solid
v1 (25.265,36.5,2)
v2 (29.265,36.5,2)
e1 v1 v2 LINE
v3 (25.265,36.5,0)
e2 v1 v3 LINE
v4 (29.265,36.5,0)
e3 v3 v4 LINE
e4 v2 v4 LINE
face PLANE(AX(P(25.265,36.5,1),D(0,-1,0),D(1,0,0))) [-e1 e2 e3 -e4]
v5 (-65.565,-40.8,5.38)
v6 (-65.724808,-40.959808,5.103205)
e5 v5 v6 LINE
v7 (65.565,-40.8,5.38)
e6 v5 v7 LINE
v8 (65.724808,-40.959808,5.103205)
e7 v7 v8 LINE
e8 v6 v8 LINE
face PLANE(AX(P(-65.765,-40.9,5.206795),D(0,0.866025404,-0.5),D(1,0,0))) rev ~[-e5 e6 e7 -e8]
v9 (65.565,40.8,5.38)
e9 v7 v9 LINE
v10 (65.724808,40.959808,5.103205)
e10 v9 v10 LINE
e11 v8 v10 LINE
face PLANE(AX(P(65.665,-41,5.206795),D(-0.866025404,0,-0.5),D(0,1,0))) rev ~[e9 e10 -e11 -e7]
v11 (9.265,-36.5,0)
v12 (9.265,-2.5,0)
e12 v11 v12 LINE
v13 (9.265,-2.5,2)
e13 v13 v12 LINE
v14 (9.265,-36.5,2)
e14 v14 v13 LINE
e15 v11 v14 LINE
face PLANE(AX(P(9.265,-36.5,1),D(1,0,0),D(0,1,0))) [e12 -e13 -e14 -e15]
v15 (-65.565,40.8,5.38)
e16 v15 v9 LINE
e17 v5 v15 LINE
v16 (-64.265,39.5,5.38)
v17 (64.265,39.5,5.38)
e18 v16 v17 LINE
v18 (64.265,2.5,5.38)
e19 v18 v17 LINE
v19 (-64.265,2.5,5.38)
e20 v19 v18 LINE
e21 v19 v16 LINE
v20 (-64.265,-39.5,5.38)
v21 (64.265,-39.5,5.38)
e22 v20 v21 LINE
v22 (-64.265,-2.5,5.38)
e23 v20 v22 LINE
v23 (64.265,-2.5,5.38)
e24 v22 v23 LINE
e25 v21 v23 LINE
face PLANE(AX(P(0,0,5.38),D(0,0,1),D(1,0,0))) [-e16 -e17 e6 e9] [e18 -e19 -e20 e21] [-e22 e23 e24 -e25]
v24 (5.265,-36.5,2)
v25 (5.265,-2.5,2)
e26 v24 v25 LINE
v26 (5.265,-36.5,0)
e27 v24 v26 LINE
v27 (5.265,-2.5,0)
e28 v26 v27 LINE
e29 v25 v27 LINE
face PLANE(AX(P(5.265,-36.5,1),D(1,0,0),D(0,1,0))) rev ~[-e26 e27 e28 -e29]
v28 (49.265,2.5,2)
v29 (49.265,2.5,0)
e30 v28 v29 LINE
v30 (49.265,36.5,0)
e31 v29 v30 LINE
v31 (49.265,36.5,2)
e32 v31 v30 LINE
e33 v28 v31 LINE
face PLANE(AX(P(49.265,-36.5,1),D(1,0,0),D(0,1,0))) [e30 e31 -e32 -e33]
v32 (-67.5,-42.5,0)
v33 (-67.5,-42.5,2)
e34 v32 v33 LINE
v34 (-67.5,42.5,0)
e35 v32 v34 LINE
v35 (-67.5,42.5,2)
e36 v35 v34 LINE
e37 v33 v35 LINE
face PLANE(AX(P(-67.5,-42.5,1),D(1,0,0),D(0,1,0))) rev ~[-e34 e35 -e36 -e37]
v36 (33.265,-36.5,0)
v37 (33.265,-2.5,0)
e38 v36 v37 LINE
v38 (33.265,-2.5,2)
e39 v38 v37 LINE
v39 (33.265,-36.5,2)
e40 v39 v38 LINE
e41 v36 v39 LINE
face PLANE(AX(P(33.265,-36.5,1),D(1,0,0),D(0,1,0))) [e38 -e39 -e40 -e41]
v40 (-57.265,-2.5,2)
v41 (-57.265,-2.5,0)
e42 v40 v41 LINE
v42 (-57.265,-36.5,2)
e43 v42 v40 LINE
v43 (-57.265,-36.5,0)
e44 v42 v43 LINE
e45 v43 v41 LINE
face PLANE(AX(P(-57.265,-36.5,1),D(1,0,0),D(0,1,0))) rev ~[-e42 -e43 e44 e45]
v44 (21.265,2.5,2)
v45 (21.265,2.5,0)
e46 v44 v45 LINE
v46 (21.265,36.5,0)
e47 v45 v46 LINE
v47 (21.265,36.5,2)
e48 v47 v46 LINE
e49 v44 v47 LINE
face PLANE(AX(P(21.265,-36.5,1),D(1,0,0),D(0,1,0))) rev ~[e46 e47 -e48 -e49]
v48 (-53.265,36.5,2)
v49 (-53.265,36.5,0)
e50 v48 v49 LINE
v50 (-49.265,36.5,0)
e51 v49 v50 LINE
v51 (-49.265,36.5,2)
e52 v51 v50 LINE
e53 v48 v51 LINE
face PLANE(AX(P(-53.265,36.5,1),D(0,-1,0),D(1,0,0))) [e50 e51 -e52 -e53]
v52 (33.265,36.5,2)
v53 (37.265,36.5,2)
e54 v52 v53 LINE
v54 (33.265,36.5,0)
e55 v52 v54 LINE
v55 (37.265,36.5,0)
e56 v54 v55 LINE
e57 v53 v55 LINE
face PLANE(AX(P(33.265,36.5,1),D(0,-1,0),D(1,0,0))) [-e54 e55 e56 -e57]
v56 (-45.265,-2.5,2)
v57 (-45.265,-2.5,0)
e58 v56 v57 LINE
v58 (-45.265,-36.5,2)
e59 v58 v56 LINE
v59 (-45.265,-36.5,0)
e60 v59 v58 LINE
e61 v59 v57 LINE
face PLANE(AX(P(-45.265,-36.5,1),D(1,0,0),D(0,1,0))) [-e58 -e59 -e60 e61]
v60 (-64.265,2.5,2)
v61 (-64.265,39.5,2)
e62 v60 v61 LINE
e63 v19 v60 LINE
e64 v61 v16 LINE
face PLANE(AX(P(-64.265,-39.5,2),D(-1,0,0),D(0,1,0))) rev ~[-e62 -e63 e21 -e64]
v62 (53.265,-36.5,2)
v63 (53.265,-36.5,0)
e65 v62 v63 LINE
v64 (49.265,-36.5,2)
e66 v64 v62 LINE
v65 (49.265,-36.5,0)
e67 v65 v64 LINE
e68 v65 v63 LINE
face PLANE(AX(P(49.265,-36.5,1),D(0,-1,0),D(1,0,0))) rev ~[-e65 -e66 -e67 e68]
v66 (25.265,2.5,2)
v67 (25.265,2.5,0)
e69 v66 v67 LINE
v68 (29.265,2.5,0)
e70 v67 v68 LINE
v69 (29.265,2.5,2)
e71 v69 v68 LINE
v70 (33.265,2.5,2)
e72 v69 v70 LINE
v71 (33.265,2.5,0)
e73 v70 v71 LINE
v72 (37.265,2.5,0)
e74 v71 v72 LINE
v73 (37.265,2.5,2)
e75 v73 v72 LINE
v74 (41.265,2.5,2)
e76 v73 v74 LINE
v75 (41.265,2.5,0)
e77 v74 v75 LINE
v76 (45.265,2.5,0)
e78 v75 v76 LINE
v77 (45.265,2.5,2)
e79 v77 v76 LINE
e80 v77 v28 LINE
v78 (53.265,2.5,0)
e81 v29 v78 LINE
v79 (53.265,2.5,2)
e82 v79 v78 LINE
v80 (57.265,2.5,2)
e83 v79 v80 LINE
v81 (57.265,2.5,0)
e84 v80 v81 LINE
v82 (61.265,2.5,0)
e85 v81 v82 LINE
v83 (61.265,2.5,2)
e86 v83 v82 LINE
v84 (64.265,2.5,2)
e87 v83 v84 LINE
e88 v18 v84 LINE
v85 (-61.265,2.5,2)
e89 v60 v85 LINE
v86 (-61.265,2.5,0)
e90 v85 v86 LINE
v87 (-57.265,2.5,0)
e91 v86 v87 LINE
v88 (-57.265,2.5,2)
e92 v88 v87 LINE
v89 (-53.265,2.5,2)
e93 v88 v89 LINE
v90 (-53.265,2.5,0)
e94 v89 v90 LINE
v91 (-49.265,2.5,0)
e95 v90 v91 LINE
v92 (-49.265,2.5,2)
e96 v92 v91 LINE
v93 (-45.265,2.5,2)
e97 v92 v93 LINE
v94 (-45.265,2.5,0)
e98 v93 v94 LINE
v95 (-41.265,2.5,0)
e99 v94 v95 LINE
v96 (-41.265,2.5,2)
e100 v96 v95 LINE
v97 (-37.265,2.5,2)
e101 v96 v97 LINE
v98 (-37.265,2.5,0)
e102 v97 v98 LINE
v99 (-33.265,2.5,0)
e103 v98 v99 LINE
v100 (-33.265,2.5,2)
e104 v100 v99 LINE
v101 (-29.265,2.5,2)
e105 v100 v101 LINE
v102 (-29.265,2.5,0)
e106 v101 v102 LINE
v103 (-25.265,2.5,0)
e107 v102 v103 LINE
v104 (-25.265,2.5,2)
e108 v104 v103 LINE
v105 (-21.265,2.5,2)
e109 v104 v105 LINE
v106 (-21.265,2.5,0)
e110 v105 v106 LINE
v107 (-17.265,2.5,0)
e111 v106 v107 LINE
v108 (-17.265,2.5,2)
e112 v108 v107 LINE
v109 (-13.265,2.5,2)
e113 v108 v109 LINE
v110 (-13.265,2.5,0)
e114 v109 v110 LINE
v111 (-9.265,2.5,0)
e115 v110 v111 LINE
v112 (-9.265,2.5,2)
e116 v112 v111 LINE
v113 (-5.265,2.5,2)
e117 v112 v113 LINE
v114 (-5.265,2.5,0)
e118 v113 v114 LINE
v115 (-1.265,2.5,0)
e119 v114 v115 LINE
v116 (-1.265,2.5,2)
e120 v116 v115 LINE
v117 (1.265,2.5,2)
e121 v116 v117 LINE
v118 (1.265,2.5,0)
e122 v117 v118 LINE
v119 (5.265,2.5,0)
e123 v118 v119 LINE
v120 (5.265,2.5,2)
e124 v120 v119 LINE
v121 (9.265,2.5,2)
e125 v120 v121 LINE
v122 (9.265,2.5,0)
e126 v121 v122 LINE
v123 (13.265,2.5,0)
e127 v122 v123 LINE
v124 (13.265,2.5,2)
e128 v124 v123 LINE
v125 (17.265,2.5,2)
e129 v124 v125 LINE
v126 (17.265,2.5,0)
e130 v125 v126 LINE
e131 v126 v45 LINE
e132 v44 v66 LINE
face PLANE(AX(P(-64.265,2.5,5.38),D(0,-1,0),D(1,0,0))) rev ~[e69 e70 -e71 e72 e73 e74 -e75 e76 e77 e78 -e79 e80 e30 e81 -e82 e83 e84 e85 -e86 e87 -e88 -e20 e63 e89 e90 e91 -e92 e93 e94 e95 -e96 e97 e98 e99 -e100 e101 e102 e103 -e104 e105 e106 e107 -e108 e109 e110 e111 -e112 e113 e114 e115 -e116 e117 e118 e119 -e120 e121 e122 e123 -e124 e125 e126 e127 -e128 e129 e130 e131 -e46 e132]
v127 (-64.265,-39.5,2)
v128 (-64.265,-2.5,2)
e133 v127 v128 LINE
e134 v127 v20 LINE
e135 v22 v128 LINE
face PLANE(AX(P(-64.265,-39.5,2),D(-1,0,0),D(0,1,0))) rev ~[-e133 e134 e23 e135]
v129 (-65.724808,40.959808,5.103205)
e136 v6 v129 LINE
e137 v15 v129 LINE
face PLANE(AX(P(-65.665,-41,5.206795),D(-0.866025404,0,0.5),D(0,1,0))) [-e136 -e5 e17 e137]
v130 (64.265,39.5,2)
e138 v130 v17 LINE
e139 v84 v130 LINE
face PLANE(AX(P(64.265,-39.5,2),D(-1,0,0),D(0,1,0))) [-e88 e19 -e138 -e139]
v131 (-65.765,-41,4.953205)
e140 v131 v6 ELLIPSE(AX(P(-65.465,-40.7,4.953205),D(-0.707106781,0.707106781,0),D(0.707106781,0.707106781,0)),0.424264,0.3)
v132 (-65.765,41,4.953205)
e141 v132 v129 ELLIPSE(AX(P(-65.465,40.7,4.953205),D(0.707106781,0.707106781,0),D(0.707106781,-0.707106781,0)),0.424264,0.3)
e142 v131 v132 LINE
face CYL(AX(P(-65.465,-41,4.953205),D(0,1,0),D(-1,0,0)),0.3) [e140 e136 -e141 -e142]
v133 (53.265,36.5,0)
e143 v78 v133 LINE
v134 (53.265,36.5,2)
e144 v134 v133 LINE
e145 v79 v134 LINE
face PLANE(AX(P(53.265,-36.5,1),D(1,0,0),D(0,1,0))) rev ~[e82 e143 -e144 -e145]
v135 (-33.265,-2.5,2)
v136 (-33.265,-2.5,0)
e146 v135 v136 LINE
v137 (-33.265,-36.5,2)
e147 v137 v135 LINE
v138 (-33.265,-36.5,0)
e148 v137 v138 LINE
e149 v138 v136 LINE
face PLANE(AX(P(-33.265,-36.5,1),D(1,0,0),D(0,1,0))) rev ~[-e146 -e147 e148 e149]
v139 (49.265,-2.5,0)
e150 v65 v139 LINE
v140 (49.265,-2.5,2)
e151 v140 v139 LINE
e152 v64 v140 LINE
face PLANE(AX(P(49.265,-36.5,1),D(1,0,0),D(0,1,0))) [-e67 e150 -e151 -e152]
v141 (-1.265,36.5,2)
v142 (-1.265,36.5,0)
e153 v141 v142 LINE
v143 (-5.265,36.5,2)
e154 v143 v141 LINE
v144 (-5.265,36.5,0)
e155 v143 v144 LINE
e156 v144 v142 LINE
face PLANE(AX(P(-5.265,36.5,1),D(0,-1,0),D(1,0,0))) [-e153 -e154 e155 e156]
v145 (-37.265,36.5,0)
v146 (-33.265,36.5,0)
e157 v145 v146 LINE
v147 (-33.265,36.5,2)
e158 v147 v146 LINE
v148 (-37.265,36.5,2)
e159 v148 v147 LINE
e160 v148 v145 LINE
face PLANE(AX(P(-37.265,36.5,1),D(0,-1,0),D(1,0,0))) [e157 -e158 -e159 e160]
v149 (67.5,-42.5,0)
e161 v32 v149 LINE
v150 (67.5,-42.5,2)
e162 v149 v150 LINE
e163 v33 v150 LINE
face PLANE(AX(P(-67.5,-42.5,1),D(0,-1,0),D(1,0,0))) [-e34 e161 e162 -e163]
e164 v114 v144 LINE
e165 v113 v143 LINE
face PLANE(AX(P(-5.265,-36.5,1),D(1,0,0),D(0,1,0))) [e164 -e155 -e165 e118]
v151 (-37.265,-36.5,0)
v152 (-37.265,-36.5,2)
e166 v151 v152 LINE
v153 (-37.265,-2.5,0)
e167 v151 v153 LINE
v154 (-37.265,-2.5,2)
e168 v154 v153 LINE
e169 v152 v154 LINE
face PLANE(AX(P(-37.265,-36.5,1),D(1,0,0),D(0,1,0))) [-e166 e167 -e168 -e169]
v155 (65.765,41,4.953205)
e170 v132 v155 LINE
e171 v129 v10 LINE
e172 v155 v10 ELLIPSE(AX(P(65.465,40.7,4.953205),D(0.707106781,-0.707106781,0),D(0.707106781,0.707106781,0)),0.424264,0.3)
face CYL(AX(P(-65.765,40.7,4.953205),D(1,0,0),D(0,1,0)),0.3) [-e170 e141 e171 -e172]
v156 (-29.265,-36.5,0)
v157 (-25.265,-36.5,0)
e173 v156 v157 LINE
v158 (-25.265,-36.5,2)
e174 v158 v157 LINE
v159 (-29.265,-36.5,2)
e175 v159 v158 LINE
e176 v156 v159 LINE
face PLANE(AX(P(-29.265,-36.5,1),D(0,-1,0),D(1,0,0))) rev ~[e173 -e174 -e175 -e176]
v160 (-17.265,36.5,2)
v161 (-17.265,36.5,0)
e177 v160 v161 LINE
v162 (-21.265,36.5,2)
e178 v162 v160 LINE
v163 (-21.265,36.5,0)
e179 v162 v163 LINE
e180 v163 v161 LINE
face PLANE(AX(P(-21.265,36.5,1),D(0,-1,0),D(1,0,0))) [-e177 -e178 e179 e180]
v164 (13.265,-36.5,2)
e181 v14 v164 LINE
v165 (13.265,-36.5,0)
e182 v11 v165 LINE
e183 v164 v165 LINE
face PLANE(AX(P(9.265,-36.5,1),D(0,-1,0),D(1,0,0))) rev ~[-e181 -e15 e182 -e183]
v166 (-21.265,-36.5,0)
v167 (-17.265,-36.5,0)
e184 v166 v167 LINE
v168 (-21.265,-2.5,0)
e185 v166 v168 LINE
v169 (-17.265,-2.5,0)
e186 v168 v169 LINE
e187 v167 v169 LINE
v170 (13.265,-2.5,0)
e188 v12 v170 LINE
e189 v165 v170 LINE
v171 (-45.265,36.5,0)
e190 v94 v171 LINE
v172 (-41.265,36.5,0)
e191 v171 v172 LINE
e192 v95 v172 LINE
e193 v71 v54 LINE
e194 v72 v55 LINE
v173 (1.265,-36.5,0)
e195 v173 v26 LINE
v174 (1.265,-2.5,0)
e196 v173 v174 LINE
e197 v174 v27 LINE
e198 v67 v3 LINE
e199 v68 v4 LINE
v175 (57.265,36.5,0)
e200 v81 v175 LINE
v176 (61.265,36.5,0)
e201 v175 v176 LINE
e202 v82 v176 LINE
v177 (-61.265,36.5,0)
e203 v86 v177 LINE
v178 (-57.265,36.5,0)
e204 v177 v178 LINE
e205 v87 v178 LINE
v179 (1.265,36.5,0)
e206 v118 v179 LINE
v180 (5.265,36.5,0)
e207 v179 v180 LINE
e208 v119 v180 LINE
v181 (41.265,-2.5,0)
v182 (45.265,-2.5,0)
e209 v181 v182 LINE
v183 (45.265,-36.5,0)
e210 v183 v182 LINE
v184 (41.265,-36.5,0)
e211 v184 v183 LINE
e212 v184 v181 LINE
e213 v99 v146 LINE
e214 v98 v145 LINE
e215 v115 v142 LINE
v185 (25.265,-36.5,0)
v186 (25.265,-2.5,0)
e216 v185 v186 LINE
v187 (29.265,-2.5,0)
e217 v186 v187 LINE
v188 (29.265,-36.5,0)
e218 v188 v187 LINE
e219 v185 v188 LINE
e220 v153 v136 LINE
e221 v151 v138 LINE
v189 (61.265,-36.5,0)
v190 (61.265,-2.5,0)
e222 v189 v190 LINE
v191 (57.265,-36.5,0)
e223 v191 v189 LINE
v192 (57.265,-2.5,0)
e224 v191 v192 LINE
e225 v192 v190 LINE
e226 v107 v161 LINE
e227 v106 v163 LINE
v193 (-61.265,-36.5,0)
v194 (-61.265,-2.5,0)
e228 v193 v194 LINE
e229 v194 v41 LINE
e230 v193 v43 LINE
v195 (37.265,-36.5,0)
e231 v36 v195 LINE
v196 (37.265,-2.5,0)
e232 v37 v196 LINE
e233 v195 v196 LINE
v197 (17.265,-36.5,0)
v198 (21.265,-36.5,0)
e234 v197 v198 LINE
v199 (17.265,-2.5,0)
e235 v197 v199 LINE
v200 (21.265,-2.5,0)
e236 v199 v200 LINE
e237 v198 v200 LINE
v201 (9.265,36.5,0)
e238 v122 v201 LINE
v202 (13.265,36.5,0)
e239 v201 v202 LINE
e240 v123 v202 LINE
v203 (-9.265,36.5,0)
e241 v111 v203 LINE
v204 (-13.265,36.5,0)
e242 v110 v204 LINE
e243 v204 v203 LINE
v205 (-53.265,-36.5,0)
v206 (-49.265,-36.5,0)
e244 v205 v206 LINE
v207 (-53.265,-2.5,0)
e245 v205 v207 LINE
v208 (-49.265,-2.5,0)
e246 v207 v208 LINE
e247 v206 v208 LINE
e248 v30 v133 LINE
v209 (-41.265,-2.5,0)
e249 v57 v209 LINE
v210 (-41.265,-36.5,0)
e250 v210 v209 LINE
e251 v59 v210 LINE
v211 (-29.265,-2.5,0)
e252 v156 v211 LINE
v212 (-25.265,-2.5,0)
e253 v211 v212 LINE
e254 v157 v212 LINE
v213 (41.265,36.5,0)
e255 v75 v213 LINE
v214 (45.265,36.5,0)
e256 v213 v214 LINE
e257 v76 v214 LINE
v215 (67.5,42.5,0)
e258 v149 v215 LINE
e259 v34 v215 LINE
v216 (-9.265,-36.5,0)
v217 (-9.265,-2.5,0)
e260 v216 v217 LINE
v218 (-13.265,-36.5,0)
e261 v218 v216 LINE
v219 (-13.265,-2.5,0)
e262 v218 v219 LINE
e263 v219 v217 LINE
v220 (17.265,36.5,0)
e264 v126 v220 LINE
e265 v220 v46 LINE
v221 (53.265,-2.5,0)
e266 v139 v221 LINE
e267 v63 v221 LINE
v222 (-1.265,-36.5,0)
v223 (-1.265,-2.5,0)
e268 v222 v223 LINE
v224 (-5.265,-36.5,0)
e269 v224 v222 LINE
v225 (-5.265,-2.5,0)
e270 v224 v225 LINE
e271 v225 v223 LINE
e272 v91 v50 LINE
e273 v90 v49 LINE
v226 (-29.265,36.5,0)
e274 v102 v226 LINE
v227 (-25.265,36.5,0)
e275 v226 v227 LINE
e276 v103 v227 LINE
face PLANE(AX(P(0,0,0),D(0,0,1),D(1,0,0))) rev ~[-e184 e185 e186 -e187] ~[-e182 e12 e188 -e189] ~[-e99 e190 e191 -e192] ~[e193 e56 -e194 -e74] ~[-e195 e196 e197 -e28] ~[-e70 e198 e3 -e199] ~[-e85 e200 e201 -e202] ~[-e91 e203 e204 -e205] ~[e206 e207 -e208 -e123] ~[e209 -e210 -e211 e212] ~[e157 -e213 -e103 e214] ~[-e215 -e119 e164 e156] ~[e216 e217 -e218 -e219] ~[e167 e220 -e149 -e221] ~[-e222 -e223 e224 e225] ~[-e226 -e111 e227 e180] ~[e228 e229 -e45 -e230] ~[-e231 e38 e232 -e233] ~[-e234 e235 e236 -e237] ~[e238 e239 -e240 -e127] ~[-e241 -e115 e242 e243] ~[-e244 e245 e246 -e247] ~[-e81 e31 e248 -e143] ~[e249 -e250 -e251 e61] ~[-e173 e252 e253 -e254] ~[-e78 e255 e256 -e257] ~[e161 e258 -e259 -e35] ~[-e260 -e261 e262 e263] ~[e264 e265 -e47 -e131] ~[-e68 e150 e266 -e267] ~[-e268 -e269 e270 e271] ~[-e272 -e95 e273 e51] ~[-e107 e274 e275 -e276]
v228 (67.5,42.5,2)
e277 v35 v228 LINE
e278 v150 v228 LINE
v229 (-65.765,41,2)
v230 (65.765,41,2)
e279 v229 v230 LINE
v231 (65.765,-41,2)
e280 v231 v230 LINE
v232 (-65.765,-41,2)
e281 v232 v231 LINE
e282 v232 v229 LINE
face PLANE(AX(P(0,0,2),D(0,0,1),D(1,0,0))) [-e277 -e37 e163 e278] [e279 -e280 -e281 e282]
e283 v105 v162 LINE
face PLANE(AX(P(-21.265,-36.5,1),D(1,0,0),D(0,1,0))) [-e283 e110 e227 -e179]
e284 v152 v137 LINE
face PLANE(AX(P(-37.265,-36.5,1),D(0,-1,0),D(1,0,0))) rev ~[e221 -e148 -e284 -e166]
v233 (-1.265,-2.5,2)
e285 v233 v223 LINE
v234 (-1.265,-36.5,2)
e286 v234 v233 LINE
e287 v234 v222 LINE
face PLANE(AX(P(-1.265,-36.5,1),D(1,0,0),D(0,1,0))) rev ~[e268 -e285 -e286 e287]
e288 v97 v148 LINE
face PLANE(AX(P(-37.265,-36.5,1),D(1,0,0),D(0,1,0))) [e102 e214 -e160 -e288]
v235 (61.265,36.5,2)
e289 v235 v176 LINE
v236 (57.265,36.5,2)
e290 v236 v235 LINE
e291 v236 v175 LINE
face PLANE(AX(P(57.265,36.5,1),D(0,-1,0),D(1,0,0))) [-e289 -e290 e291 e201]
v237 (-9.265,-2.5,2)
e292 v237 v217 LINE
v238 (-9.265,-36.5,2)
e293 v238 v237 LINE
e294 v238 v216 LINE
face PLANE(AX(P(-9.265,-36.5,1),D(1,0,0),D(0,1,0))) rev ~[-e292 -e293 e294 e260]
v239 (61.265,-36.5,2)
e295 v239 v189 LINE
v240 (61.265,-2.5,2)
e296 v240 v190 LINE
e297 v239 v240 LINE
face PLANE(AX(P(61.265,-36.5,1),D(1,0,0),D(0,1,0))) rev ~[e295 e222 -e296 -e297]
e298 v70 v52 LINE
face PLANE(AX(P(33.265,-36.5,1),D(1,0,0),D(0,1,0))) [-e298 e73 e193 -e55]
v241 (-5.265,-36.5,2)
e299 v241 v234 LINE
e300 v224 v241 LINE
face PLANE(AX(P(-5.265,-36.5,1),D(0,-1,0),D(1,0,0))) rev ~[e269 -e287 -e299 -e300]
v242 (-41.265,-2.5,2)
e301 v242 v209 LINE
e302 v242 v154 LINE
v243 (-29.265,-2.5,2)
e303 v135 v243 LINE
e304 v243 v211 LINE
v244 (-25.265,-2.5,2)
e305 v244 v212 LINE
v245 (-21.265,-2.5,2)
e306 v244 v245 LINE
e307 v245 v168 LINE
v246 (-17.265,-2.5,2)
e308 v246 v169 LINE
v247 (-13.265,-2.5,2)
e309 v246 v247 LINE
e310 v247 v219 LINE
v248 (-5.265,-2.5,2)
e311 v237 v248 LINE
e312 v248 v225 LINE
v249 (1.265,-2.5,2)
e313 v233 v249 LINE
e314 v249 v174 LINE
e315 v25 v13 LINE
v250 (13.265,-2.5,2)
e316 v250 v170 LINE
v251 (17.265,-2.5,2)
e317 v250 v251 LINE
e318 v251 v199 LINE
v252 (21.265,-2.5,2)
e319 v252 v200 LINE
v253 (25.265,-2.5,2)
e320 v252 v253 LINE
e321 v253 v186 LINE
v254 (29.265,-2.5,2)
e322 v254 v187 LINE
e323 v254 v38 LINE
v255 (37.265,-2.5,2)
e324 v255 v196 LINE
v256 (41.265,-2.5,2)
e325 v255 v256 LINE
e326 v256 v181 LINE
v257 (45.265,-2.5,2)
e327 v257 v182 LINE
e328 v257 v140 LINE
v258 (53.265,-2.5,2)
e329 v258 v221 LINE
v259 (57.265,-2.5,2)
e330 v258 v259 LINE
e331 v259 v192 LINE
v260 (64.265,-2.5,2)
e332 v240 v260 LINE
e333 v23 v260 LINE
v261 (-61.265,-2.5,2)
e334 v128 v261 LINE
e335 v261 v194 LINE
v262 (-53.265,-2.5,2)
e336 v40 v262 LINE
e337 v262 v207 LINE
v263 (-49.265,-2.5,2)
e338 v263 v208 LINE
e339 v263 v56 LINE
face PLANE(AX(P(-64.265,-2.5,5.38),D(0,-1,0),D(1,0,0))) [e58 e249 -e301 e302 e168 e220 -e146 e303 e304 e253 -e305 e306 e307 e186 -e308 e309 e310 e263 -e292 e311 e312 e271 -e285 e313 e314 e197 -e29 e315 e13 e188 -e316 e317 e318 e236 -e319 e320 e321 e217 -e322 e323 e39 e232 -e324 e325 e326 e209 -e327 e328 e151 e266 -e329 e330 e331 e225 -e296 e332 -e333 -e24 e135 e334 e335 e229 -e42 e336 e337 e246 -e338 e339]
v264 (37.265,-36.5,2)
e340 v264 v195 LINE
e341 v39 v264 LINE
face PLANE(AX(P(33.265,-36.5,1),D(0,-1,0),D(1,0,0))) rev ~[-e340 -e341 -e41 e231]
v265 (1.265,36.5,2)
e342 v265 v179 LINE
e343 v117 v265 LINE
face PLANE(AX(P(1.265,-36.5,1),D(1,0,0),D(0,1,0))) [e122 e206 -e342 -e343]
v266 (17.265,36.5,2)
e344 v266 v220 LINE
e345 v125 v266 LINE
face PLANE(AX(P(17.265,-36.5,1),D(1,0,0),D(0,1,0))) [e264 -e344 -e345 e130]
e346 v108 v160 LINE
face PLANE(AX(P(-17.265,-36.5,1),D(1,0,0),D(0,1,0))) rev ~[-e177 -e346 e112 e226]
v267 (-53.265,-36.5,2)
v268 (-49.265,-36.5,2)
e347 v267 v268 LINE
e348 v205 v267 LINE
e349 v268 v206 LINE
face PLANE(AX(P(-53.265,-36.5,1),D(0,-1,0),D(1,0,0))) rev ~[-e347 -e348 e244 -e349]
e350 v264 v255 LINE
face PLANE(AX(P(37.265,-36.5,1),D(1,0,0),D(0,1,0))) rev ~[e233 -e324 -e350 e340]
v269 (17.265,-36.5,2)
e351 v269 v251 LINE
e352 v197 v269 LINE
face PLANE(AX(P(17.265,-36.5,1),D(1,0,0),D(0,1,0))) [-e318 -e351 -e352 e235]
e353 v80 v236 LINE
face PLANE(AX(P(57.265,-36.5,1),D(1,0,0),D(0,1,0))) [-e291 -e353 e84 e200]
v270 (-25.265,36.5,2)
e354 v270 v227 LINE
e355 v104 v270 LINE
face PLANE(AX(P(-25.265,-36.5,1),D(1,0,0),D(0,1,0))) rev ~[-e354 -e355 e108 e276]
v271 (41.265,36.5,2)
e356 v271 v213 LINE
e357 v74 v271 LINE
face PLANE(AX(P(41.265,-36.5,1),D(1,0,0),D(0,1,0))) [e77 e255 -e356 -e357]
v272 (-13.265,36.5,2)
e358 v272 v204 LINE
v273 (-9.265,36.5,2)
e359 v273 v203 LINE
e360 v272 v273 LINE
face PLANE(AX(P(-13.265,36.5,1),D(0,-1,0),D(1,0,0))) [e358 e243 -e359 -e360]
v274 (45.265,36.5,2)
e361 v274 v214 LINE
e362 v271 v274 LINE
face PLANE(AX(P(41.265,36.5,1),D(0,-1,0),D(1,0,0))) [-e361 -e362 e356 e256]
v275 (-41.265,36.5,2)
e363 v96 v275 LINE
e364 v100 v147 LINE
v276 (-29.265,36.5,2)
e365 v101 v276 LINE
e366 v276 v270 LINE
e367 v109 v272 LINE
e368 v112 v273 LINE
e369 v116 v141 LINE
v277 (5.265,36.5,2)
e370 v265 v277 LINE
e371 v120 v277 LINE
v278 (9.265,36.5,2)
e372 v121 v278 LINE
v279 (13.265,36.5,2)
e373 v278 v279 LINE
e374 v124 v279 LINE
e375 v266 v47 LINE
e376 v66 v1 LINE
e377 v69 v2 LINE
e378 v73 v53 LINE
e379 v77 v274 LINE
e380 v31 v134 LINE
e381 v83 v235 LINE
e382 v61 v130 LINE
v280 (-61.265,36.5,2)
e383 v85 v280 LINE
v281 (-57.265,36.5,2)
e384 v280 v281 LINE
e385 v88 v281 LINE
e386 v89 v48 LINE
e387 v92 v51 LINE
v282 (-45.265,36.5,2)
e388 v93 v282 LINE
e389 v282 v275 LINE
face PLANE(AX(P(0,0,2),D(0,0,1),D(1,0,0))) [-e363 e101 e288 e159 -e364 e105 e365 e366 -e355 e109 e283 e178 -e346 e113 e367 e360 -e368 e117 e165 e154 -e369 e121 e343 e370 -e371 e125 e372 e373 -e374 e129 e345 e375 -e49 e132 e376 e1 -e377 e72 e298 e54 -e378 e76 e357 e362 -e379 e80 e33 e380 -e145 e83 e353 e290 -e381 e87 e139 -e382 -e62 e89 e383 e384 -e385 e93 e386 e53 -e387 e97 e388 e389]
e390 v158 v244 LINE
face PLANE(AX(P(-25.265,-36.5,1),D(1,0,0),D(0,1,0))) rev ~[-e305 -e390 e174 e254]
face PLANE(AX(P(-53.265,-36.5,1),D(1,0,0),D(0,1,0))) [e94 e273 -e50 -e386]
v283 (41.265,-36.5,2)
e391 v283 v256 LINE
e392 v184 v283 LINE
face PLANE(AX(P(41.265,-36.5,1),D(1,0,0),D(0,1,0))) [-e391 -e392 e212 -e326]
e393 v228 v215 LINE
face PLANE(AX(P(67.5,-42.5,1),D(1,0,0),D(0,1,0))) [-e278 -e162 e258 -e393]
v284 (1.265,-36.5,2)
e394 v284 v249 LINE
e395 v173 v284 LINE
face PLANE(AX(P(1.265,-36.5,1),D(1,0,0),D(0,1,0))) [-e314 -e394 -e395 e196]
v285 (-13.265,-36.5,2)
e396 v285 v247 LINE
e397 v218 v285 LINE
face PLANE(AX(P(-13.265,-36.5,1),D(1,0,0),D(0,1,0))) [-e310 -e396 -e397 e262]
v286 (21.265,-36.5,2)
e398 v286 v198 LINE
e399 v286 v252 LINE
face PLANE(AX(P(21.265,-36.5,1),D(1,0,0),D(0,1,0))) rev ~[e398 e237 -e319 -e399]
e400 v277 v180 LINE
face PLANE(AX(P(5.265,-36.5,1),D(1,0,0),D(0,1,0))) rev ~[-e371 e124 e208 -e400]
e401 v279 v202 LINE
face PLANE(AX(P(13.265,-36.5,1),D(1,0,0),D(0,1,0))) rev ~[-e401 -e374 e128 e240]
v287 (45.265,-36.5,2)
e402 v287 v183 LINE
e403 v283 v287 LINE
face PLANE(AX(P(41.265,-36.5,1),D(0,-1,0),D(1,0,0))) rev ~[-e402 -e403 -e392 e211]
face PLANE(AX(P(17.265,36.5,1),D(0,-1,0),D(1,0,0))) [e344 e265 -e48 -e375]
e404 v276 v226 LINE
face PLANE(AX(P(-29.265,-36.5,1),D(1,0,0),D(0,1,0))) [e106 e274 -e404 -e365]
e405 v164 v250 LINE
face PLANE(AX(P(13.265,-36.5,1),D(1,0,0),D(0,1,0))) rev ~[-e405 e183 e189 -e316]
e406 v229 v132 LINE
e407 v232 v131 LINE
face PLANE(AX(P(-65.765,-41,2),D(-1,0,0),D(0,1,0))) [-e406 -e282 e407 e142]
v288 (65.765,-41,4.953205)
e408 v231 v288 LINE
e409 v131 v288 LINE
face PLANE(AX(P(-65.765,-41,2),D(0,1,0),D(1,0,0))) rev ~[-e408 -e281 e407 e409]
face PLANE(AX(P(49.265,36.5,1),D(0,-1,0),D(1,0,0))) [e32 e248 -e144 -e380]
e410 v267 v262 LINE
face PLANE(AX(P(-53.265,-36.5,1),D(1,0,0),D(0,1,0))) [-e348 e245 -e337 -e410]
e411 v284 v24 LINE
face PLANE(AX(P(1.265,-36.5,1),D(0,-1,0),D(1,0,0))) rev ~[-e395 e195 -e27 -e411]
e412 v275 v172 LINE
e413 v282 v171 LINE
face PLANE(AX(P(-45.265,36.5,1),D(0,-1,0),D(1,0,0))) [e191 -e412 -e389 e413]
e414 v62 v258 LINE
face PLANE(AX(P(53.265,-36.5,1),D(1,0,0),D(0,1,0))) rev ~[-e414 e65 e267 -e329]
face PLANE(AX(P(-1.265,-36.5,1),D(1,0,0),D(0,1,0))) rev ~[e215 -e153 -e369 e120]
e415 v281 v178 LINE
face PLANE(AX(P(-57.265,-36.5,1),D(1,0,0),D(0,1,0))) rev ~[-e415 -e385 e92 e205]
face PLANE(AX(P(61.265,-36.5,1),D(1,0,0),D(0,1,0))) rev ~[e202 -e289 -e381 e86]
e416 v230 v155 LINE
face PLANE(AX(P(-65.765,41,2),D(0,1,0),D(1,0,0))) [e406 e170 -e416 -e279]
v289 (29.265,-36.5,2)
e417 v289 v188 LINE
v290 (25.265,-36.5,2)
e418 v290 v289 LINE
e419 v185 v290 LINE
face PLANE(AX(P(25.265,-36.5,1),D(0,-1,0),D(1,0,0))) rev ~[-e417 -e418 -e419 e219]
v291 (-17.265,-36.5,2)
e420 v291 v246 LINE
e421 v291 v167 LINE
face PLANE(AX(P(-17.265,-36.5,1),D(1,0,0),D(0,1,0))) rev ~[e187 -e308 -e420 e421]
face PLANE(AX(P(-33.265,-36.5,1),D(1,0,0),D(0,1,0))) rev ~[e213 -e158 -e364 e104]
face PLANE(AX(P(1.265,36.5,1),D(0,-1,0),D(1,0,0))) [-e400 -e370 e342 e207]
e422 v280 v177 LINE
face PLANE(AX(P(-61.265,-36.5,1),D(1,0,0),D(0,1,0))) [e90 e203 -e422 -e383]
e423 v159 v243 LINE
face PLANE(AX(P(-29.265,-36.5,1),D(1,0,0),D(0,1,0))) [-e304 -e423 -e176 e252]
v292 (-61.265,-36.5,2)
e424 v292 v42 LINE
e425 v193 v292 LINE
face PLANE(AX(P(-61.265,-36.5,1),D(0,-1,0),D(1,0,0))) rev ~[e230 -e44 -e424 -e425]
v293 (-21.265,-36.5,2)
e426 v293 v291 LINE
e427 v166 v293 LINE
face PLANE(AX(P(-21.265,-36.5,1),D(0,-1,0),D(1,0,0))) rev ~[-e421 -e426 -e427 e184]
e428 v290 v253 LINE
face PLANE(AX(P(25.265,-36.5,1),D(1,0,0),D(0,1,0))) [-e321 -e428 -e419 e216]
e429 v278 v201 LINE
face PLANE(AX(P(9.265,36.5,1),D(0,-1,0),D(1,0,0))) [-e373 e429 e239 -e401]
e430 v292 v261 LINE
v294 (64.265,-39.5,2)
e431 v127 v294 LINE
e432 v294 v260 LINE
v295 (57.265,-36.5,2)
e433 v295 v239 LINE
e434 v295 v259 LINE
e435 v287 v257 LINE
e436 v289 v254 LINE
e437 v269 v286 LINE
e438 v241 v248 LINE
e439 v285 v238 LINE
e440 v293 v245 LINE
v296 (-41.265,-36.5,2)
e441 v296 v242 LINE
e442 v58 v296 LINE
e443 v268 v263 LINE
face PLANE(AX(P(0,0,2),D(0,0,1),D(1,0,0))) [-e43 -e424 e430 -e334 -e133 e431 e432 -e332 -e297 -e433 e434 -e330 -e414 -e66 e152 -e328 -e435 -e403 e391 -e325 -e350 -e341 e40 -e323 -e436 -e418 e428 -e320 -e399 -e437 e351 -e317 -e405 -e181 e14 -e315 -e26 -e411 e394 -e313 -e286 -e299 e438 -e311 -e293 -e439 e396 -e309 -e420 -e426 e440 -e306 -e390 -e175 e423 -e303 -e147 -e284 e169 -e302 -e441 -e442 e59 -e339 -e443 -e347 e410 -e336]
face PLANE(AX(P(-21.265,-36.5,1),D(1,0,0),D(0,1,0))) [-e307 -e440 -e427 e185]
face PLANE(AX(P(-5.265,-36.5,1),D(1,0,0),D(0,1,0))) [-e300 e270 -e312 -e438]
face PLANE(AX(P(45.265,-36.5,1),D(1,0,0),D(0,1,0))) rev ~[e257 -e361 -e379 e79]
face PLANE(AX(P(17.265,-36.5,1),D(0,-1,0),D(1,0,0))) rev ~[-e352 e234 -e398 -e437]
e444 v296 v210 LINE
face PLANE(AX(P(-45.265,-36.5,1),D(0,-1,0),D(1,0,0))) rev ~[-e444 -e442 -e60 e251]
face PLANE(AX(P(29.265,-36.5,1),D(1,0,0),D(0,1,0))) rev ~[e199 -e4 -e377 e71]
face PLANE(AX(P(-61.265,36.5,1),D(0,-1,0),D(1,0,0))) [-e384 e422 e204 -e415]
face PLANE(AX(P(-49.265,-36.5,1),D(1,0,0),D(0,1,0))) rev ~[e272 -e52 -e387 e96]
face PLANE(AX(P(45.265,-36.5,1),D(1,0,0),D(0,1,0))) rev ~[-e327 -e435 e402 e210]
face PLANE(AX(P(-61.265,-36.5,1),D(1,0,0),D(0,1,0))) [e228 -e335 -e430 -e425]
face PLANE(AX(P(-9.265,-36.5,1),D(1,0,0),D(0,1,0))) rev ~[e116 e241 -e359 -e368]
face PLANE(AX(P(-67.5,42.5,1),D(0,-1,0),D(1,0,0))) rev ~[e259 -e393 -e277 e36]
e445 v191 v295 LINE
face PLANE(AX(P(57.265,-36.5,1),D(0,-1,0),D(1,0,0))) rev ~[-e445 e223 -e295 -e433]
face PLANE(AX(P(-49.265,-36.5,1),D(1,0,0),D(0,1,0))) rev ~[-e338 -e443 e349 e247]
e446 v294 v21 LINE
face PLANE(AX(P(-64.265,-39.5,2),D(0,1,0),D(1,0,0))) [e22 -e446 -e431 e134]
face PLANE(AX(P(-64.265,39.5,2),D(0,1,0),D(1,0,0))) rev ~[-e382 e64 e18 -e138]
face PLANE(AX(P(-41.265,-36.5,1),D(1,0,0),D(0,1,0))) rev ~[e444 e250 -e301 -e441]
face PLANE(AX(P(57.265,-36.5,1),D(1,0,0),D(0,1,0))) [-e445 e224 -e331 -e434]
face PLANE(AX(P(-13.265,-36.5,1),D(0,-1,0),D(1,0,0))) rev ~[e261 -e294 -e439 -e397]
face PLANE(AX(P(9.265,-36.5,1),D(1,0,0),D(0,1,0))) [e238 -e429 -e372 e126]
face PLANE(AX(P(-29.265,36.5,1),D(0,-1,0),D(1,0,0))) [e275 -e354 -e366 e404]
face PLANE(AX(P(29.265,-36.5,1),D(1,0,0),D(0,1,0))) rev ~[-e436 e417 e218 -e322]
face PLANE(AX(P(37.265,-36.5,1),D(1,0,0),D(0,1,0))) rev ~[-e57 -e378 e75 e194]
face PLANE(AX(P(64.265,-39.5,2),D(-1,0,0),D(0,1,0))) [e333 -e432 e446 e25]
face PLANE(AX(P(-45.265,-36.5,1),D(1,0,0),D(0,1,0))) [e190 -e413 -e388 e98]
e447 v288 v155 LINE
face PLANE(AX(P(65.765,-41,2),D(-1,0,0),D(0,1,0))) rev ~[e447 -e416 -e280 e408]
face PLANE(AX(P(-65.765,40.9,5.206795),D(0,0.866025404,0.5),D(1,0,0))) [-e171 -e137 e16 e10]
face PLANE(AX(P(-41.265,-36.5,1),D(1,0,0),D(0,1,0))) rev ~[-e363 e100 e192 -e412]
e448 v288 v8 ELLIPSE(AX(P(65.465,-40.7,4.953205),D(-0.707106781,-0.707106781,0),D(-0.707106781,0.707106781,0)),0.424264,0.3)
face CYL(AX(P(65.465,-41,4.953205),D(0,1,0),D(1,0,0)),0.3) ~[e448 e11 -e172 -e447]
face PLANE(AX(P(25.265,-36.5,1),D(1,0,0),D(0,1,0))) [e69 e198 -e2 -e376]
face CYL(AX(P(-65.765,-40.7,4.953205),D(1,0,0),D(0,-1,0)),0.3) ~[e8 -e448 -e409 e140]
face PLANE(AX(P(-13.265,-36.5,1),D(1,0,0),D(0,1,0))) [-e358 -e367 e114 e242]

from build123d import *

# Parameters (mm, degrees)
F0_W      = 135
F0_H      = 85
F1_DEPTH  = 2
F2_W      = 131.53
F2_H      = 82
F2_W_2    = 128.53
F2_H_2    = 79
F3_DEPTH  = 3.38
F4_SIZE2  = 0.3464101615
F4_SIZE   = 0.2
F5_R      = 0.3
F6_W      = 4
F6_H      = 73
F7_DEPTH  = 25
F8_DEPTH  = 1
F9_DEPTH  = 1
F10_W     = 128.53
F10_H     = 5
F11_DEPTH = 5.38


with BuildPart() as f1:
    # F0 (on Top) → F1 (new body)
    with BuildSketch(Plane.XY):
        Rectangle(F0_W, F0_H)
    extrude(amount=F1_DEPTH)

    # F2 (on face) → F3 (join)
    with BuildSketch(Plane.XY.offset(2)):
        Rectangle(F2_W, F2_H)
        Rectangle(F2_W_2, F2_H_2, mode=Mode.SUBTRACT)
    extrude(amount=F3_DEPTH)

    # F4
    f4_edges = [f1.edges().sort_by_distance(p)[0] for p in [
        (-65.765, 0, 5.38),
        (0, 41, 5.38),
        (0, -41, 5.38),
        (65.765, 0, 5.38),
    ]]
    f4_side = f1.faces().sort_by_distance((0, 40.845003, 5.38))[0]
    chamfer(f4_edges, length=F4_SIZE, length2=F4_SIZE2, reference=f4_side)

    # F5
    f5_edges = [f1.edges().sort_by_distance(p)[0] for p in [
        (65.765, 0, 5.03359),
        (0, 41, 5.03359),
        (0, -41, 5.03359),
        (-65.765, 0, 5.03359),
    ]]
    fillet(f5_edges, radius=F5_R)

    # F6 (on face) → F7 (cut)
    with BuildSketch(Plane.XY.offset(2)):
        with Locations((-59.265, 0)):
            Rectangle(F6_W, F6_H)
        with Locations((-51.265, 0)):
            Rectangle(F6_W, F6_H)
        with Locations((-43.265, 0)):
            Rectangle(F6_W, F6_H)
        with Locations((-35.265, 0)):
            Rectangle(F6_W, F6_H)
        with Locations((-27.265, 0)):
            Rectangle(F6_W, F6_H)
        with Locations((-19.265, 0)):
            Rectangle(F6_W, F6_H)
        with Locations((-11.265, 0)):
            Rectangle(F6_W, F6_H)
        with Locations((-3.265, 0)):
            Rectangle(F6_W, F6_H)
        with Locations((35.265, 0)):
            Rectangle(F6_W, F6_H)
        with Locations((43.265, 0)):
            Rectangle(F6_W, F6_H)
        with Locations((51.265, 0)):
            Rectangle(F6_W, F6_H)
        with Locations((3.265, 0)):
            Rectangle(F6_W, F6_H)
        with Locations((59.265, 0)):
            Rectangle(F6_W, F6_H)
        with Locations((11.265, 0)):
            Rectangle(F6_W, F6_H)
        with Locations((19.265, 0)):
            Rectangle(F6_W, F6_H)
        with Locations((27.265, 0)):
            Rectangle(F6_W, F6_H)
    extrude(amount=-F7_DEPTH, mode=Mode.SUBTRACT)

    # F8 (cut): a face of the model
    f8_faces = [f1.faces().sort_by_distance(p)[0] for p in [
        (0, 0, 0),
    ]]
    extrude(f8_faces, amount=-F8_DEPTH, mode=Mode.SUBTRACT)

    # F9 (add): a face of the model
    f9_faces = [f1.faces().sort_by_distance(p)[0] for p in [
        (0, 0, 1),
    ]]
    extrude(f9_faces, amount=F9_DEPTH)

    # F10 (on face) → F11 (join, through all)
    with BuildSketch(Plane.XY.offset(5.38)):
        Rectangle(F10_W, F10_H)
    extrude(amount=-F11_DEPTH)


solid = f1.part
